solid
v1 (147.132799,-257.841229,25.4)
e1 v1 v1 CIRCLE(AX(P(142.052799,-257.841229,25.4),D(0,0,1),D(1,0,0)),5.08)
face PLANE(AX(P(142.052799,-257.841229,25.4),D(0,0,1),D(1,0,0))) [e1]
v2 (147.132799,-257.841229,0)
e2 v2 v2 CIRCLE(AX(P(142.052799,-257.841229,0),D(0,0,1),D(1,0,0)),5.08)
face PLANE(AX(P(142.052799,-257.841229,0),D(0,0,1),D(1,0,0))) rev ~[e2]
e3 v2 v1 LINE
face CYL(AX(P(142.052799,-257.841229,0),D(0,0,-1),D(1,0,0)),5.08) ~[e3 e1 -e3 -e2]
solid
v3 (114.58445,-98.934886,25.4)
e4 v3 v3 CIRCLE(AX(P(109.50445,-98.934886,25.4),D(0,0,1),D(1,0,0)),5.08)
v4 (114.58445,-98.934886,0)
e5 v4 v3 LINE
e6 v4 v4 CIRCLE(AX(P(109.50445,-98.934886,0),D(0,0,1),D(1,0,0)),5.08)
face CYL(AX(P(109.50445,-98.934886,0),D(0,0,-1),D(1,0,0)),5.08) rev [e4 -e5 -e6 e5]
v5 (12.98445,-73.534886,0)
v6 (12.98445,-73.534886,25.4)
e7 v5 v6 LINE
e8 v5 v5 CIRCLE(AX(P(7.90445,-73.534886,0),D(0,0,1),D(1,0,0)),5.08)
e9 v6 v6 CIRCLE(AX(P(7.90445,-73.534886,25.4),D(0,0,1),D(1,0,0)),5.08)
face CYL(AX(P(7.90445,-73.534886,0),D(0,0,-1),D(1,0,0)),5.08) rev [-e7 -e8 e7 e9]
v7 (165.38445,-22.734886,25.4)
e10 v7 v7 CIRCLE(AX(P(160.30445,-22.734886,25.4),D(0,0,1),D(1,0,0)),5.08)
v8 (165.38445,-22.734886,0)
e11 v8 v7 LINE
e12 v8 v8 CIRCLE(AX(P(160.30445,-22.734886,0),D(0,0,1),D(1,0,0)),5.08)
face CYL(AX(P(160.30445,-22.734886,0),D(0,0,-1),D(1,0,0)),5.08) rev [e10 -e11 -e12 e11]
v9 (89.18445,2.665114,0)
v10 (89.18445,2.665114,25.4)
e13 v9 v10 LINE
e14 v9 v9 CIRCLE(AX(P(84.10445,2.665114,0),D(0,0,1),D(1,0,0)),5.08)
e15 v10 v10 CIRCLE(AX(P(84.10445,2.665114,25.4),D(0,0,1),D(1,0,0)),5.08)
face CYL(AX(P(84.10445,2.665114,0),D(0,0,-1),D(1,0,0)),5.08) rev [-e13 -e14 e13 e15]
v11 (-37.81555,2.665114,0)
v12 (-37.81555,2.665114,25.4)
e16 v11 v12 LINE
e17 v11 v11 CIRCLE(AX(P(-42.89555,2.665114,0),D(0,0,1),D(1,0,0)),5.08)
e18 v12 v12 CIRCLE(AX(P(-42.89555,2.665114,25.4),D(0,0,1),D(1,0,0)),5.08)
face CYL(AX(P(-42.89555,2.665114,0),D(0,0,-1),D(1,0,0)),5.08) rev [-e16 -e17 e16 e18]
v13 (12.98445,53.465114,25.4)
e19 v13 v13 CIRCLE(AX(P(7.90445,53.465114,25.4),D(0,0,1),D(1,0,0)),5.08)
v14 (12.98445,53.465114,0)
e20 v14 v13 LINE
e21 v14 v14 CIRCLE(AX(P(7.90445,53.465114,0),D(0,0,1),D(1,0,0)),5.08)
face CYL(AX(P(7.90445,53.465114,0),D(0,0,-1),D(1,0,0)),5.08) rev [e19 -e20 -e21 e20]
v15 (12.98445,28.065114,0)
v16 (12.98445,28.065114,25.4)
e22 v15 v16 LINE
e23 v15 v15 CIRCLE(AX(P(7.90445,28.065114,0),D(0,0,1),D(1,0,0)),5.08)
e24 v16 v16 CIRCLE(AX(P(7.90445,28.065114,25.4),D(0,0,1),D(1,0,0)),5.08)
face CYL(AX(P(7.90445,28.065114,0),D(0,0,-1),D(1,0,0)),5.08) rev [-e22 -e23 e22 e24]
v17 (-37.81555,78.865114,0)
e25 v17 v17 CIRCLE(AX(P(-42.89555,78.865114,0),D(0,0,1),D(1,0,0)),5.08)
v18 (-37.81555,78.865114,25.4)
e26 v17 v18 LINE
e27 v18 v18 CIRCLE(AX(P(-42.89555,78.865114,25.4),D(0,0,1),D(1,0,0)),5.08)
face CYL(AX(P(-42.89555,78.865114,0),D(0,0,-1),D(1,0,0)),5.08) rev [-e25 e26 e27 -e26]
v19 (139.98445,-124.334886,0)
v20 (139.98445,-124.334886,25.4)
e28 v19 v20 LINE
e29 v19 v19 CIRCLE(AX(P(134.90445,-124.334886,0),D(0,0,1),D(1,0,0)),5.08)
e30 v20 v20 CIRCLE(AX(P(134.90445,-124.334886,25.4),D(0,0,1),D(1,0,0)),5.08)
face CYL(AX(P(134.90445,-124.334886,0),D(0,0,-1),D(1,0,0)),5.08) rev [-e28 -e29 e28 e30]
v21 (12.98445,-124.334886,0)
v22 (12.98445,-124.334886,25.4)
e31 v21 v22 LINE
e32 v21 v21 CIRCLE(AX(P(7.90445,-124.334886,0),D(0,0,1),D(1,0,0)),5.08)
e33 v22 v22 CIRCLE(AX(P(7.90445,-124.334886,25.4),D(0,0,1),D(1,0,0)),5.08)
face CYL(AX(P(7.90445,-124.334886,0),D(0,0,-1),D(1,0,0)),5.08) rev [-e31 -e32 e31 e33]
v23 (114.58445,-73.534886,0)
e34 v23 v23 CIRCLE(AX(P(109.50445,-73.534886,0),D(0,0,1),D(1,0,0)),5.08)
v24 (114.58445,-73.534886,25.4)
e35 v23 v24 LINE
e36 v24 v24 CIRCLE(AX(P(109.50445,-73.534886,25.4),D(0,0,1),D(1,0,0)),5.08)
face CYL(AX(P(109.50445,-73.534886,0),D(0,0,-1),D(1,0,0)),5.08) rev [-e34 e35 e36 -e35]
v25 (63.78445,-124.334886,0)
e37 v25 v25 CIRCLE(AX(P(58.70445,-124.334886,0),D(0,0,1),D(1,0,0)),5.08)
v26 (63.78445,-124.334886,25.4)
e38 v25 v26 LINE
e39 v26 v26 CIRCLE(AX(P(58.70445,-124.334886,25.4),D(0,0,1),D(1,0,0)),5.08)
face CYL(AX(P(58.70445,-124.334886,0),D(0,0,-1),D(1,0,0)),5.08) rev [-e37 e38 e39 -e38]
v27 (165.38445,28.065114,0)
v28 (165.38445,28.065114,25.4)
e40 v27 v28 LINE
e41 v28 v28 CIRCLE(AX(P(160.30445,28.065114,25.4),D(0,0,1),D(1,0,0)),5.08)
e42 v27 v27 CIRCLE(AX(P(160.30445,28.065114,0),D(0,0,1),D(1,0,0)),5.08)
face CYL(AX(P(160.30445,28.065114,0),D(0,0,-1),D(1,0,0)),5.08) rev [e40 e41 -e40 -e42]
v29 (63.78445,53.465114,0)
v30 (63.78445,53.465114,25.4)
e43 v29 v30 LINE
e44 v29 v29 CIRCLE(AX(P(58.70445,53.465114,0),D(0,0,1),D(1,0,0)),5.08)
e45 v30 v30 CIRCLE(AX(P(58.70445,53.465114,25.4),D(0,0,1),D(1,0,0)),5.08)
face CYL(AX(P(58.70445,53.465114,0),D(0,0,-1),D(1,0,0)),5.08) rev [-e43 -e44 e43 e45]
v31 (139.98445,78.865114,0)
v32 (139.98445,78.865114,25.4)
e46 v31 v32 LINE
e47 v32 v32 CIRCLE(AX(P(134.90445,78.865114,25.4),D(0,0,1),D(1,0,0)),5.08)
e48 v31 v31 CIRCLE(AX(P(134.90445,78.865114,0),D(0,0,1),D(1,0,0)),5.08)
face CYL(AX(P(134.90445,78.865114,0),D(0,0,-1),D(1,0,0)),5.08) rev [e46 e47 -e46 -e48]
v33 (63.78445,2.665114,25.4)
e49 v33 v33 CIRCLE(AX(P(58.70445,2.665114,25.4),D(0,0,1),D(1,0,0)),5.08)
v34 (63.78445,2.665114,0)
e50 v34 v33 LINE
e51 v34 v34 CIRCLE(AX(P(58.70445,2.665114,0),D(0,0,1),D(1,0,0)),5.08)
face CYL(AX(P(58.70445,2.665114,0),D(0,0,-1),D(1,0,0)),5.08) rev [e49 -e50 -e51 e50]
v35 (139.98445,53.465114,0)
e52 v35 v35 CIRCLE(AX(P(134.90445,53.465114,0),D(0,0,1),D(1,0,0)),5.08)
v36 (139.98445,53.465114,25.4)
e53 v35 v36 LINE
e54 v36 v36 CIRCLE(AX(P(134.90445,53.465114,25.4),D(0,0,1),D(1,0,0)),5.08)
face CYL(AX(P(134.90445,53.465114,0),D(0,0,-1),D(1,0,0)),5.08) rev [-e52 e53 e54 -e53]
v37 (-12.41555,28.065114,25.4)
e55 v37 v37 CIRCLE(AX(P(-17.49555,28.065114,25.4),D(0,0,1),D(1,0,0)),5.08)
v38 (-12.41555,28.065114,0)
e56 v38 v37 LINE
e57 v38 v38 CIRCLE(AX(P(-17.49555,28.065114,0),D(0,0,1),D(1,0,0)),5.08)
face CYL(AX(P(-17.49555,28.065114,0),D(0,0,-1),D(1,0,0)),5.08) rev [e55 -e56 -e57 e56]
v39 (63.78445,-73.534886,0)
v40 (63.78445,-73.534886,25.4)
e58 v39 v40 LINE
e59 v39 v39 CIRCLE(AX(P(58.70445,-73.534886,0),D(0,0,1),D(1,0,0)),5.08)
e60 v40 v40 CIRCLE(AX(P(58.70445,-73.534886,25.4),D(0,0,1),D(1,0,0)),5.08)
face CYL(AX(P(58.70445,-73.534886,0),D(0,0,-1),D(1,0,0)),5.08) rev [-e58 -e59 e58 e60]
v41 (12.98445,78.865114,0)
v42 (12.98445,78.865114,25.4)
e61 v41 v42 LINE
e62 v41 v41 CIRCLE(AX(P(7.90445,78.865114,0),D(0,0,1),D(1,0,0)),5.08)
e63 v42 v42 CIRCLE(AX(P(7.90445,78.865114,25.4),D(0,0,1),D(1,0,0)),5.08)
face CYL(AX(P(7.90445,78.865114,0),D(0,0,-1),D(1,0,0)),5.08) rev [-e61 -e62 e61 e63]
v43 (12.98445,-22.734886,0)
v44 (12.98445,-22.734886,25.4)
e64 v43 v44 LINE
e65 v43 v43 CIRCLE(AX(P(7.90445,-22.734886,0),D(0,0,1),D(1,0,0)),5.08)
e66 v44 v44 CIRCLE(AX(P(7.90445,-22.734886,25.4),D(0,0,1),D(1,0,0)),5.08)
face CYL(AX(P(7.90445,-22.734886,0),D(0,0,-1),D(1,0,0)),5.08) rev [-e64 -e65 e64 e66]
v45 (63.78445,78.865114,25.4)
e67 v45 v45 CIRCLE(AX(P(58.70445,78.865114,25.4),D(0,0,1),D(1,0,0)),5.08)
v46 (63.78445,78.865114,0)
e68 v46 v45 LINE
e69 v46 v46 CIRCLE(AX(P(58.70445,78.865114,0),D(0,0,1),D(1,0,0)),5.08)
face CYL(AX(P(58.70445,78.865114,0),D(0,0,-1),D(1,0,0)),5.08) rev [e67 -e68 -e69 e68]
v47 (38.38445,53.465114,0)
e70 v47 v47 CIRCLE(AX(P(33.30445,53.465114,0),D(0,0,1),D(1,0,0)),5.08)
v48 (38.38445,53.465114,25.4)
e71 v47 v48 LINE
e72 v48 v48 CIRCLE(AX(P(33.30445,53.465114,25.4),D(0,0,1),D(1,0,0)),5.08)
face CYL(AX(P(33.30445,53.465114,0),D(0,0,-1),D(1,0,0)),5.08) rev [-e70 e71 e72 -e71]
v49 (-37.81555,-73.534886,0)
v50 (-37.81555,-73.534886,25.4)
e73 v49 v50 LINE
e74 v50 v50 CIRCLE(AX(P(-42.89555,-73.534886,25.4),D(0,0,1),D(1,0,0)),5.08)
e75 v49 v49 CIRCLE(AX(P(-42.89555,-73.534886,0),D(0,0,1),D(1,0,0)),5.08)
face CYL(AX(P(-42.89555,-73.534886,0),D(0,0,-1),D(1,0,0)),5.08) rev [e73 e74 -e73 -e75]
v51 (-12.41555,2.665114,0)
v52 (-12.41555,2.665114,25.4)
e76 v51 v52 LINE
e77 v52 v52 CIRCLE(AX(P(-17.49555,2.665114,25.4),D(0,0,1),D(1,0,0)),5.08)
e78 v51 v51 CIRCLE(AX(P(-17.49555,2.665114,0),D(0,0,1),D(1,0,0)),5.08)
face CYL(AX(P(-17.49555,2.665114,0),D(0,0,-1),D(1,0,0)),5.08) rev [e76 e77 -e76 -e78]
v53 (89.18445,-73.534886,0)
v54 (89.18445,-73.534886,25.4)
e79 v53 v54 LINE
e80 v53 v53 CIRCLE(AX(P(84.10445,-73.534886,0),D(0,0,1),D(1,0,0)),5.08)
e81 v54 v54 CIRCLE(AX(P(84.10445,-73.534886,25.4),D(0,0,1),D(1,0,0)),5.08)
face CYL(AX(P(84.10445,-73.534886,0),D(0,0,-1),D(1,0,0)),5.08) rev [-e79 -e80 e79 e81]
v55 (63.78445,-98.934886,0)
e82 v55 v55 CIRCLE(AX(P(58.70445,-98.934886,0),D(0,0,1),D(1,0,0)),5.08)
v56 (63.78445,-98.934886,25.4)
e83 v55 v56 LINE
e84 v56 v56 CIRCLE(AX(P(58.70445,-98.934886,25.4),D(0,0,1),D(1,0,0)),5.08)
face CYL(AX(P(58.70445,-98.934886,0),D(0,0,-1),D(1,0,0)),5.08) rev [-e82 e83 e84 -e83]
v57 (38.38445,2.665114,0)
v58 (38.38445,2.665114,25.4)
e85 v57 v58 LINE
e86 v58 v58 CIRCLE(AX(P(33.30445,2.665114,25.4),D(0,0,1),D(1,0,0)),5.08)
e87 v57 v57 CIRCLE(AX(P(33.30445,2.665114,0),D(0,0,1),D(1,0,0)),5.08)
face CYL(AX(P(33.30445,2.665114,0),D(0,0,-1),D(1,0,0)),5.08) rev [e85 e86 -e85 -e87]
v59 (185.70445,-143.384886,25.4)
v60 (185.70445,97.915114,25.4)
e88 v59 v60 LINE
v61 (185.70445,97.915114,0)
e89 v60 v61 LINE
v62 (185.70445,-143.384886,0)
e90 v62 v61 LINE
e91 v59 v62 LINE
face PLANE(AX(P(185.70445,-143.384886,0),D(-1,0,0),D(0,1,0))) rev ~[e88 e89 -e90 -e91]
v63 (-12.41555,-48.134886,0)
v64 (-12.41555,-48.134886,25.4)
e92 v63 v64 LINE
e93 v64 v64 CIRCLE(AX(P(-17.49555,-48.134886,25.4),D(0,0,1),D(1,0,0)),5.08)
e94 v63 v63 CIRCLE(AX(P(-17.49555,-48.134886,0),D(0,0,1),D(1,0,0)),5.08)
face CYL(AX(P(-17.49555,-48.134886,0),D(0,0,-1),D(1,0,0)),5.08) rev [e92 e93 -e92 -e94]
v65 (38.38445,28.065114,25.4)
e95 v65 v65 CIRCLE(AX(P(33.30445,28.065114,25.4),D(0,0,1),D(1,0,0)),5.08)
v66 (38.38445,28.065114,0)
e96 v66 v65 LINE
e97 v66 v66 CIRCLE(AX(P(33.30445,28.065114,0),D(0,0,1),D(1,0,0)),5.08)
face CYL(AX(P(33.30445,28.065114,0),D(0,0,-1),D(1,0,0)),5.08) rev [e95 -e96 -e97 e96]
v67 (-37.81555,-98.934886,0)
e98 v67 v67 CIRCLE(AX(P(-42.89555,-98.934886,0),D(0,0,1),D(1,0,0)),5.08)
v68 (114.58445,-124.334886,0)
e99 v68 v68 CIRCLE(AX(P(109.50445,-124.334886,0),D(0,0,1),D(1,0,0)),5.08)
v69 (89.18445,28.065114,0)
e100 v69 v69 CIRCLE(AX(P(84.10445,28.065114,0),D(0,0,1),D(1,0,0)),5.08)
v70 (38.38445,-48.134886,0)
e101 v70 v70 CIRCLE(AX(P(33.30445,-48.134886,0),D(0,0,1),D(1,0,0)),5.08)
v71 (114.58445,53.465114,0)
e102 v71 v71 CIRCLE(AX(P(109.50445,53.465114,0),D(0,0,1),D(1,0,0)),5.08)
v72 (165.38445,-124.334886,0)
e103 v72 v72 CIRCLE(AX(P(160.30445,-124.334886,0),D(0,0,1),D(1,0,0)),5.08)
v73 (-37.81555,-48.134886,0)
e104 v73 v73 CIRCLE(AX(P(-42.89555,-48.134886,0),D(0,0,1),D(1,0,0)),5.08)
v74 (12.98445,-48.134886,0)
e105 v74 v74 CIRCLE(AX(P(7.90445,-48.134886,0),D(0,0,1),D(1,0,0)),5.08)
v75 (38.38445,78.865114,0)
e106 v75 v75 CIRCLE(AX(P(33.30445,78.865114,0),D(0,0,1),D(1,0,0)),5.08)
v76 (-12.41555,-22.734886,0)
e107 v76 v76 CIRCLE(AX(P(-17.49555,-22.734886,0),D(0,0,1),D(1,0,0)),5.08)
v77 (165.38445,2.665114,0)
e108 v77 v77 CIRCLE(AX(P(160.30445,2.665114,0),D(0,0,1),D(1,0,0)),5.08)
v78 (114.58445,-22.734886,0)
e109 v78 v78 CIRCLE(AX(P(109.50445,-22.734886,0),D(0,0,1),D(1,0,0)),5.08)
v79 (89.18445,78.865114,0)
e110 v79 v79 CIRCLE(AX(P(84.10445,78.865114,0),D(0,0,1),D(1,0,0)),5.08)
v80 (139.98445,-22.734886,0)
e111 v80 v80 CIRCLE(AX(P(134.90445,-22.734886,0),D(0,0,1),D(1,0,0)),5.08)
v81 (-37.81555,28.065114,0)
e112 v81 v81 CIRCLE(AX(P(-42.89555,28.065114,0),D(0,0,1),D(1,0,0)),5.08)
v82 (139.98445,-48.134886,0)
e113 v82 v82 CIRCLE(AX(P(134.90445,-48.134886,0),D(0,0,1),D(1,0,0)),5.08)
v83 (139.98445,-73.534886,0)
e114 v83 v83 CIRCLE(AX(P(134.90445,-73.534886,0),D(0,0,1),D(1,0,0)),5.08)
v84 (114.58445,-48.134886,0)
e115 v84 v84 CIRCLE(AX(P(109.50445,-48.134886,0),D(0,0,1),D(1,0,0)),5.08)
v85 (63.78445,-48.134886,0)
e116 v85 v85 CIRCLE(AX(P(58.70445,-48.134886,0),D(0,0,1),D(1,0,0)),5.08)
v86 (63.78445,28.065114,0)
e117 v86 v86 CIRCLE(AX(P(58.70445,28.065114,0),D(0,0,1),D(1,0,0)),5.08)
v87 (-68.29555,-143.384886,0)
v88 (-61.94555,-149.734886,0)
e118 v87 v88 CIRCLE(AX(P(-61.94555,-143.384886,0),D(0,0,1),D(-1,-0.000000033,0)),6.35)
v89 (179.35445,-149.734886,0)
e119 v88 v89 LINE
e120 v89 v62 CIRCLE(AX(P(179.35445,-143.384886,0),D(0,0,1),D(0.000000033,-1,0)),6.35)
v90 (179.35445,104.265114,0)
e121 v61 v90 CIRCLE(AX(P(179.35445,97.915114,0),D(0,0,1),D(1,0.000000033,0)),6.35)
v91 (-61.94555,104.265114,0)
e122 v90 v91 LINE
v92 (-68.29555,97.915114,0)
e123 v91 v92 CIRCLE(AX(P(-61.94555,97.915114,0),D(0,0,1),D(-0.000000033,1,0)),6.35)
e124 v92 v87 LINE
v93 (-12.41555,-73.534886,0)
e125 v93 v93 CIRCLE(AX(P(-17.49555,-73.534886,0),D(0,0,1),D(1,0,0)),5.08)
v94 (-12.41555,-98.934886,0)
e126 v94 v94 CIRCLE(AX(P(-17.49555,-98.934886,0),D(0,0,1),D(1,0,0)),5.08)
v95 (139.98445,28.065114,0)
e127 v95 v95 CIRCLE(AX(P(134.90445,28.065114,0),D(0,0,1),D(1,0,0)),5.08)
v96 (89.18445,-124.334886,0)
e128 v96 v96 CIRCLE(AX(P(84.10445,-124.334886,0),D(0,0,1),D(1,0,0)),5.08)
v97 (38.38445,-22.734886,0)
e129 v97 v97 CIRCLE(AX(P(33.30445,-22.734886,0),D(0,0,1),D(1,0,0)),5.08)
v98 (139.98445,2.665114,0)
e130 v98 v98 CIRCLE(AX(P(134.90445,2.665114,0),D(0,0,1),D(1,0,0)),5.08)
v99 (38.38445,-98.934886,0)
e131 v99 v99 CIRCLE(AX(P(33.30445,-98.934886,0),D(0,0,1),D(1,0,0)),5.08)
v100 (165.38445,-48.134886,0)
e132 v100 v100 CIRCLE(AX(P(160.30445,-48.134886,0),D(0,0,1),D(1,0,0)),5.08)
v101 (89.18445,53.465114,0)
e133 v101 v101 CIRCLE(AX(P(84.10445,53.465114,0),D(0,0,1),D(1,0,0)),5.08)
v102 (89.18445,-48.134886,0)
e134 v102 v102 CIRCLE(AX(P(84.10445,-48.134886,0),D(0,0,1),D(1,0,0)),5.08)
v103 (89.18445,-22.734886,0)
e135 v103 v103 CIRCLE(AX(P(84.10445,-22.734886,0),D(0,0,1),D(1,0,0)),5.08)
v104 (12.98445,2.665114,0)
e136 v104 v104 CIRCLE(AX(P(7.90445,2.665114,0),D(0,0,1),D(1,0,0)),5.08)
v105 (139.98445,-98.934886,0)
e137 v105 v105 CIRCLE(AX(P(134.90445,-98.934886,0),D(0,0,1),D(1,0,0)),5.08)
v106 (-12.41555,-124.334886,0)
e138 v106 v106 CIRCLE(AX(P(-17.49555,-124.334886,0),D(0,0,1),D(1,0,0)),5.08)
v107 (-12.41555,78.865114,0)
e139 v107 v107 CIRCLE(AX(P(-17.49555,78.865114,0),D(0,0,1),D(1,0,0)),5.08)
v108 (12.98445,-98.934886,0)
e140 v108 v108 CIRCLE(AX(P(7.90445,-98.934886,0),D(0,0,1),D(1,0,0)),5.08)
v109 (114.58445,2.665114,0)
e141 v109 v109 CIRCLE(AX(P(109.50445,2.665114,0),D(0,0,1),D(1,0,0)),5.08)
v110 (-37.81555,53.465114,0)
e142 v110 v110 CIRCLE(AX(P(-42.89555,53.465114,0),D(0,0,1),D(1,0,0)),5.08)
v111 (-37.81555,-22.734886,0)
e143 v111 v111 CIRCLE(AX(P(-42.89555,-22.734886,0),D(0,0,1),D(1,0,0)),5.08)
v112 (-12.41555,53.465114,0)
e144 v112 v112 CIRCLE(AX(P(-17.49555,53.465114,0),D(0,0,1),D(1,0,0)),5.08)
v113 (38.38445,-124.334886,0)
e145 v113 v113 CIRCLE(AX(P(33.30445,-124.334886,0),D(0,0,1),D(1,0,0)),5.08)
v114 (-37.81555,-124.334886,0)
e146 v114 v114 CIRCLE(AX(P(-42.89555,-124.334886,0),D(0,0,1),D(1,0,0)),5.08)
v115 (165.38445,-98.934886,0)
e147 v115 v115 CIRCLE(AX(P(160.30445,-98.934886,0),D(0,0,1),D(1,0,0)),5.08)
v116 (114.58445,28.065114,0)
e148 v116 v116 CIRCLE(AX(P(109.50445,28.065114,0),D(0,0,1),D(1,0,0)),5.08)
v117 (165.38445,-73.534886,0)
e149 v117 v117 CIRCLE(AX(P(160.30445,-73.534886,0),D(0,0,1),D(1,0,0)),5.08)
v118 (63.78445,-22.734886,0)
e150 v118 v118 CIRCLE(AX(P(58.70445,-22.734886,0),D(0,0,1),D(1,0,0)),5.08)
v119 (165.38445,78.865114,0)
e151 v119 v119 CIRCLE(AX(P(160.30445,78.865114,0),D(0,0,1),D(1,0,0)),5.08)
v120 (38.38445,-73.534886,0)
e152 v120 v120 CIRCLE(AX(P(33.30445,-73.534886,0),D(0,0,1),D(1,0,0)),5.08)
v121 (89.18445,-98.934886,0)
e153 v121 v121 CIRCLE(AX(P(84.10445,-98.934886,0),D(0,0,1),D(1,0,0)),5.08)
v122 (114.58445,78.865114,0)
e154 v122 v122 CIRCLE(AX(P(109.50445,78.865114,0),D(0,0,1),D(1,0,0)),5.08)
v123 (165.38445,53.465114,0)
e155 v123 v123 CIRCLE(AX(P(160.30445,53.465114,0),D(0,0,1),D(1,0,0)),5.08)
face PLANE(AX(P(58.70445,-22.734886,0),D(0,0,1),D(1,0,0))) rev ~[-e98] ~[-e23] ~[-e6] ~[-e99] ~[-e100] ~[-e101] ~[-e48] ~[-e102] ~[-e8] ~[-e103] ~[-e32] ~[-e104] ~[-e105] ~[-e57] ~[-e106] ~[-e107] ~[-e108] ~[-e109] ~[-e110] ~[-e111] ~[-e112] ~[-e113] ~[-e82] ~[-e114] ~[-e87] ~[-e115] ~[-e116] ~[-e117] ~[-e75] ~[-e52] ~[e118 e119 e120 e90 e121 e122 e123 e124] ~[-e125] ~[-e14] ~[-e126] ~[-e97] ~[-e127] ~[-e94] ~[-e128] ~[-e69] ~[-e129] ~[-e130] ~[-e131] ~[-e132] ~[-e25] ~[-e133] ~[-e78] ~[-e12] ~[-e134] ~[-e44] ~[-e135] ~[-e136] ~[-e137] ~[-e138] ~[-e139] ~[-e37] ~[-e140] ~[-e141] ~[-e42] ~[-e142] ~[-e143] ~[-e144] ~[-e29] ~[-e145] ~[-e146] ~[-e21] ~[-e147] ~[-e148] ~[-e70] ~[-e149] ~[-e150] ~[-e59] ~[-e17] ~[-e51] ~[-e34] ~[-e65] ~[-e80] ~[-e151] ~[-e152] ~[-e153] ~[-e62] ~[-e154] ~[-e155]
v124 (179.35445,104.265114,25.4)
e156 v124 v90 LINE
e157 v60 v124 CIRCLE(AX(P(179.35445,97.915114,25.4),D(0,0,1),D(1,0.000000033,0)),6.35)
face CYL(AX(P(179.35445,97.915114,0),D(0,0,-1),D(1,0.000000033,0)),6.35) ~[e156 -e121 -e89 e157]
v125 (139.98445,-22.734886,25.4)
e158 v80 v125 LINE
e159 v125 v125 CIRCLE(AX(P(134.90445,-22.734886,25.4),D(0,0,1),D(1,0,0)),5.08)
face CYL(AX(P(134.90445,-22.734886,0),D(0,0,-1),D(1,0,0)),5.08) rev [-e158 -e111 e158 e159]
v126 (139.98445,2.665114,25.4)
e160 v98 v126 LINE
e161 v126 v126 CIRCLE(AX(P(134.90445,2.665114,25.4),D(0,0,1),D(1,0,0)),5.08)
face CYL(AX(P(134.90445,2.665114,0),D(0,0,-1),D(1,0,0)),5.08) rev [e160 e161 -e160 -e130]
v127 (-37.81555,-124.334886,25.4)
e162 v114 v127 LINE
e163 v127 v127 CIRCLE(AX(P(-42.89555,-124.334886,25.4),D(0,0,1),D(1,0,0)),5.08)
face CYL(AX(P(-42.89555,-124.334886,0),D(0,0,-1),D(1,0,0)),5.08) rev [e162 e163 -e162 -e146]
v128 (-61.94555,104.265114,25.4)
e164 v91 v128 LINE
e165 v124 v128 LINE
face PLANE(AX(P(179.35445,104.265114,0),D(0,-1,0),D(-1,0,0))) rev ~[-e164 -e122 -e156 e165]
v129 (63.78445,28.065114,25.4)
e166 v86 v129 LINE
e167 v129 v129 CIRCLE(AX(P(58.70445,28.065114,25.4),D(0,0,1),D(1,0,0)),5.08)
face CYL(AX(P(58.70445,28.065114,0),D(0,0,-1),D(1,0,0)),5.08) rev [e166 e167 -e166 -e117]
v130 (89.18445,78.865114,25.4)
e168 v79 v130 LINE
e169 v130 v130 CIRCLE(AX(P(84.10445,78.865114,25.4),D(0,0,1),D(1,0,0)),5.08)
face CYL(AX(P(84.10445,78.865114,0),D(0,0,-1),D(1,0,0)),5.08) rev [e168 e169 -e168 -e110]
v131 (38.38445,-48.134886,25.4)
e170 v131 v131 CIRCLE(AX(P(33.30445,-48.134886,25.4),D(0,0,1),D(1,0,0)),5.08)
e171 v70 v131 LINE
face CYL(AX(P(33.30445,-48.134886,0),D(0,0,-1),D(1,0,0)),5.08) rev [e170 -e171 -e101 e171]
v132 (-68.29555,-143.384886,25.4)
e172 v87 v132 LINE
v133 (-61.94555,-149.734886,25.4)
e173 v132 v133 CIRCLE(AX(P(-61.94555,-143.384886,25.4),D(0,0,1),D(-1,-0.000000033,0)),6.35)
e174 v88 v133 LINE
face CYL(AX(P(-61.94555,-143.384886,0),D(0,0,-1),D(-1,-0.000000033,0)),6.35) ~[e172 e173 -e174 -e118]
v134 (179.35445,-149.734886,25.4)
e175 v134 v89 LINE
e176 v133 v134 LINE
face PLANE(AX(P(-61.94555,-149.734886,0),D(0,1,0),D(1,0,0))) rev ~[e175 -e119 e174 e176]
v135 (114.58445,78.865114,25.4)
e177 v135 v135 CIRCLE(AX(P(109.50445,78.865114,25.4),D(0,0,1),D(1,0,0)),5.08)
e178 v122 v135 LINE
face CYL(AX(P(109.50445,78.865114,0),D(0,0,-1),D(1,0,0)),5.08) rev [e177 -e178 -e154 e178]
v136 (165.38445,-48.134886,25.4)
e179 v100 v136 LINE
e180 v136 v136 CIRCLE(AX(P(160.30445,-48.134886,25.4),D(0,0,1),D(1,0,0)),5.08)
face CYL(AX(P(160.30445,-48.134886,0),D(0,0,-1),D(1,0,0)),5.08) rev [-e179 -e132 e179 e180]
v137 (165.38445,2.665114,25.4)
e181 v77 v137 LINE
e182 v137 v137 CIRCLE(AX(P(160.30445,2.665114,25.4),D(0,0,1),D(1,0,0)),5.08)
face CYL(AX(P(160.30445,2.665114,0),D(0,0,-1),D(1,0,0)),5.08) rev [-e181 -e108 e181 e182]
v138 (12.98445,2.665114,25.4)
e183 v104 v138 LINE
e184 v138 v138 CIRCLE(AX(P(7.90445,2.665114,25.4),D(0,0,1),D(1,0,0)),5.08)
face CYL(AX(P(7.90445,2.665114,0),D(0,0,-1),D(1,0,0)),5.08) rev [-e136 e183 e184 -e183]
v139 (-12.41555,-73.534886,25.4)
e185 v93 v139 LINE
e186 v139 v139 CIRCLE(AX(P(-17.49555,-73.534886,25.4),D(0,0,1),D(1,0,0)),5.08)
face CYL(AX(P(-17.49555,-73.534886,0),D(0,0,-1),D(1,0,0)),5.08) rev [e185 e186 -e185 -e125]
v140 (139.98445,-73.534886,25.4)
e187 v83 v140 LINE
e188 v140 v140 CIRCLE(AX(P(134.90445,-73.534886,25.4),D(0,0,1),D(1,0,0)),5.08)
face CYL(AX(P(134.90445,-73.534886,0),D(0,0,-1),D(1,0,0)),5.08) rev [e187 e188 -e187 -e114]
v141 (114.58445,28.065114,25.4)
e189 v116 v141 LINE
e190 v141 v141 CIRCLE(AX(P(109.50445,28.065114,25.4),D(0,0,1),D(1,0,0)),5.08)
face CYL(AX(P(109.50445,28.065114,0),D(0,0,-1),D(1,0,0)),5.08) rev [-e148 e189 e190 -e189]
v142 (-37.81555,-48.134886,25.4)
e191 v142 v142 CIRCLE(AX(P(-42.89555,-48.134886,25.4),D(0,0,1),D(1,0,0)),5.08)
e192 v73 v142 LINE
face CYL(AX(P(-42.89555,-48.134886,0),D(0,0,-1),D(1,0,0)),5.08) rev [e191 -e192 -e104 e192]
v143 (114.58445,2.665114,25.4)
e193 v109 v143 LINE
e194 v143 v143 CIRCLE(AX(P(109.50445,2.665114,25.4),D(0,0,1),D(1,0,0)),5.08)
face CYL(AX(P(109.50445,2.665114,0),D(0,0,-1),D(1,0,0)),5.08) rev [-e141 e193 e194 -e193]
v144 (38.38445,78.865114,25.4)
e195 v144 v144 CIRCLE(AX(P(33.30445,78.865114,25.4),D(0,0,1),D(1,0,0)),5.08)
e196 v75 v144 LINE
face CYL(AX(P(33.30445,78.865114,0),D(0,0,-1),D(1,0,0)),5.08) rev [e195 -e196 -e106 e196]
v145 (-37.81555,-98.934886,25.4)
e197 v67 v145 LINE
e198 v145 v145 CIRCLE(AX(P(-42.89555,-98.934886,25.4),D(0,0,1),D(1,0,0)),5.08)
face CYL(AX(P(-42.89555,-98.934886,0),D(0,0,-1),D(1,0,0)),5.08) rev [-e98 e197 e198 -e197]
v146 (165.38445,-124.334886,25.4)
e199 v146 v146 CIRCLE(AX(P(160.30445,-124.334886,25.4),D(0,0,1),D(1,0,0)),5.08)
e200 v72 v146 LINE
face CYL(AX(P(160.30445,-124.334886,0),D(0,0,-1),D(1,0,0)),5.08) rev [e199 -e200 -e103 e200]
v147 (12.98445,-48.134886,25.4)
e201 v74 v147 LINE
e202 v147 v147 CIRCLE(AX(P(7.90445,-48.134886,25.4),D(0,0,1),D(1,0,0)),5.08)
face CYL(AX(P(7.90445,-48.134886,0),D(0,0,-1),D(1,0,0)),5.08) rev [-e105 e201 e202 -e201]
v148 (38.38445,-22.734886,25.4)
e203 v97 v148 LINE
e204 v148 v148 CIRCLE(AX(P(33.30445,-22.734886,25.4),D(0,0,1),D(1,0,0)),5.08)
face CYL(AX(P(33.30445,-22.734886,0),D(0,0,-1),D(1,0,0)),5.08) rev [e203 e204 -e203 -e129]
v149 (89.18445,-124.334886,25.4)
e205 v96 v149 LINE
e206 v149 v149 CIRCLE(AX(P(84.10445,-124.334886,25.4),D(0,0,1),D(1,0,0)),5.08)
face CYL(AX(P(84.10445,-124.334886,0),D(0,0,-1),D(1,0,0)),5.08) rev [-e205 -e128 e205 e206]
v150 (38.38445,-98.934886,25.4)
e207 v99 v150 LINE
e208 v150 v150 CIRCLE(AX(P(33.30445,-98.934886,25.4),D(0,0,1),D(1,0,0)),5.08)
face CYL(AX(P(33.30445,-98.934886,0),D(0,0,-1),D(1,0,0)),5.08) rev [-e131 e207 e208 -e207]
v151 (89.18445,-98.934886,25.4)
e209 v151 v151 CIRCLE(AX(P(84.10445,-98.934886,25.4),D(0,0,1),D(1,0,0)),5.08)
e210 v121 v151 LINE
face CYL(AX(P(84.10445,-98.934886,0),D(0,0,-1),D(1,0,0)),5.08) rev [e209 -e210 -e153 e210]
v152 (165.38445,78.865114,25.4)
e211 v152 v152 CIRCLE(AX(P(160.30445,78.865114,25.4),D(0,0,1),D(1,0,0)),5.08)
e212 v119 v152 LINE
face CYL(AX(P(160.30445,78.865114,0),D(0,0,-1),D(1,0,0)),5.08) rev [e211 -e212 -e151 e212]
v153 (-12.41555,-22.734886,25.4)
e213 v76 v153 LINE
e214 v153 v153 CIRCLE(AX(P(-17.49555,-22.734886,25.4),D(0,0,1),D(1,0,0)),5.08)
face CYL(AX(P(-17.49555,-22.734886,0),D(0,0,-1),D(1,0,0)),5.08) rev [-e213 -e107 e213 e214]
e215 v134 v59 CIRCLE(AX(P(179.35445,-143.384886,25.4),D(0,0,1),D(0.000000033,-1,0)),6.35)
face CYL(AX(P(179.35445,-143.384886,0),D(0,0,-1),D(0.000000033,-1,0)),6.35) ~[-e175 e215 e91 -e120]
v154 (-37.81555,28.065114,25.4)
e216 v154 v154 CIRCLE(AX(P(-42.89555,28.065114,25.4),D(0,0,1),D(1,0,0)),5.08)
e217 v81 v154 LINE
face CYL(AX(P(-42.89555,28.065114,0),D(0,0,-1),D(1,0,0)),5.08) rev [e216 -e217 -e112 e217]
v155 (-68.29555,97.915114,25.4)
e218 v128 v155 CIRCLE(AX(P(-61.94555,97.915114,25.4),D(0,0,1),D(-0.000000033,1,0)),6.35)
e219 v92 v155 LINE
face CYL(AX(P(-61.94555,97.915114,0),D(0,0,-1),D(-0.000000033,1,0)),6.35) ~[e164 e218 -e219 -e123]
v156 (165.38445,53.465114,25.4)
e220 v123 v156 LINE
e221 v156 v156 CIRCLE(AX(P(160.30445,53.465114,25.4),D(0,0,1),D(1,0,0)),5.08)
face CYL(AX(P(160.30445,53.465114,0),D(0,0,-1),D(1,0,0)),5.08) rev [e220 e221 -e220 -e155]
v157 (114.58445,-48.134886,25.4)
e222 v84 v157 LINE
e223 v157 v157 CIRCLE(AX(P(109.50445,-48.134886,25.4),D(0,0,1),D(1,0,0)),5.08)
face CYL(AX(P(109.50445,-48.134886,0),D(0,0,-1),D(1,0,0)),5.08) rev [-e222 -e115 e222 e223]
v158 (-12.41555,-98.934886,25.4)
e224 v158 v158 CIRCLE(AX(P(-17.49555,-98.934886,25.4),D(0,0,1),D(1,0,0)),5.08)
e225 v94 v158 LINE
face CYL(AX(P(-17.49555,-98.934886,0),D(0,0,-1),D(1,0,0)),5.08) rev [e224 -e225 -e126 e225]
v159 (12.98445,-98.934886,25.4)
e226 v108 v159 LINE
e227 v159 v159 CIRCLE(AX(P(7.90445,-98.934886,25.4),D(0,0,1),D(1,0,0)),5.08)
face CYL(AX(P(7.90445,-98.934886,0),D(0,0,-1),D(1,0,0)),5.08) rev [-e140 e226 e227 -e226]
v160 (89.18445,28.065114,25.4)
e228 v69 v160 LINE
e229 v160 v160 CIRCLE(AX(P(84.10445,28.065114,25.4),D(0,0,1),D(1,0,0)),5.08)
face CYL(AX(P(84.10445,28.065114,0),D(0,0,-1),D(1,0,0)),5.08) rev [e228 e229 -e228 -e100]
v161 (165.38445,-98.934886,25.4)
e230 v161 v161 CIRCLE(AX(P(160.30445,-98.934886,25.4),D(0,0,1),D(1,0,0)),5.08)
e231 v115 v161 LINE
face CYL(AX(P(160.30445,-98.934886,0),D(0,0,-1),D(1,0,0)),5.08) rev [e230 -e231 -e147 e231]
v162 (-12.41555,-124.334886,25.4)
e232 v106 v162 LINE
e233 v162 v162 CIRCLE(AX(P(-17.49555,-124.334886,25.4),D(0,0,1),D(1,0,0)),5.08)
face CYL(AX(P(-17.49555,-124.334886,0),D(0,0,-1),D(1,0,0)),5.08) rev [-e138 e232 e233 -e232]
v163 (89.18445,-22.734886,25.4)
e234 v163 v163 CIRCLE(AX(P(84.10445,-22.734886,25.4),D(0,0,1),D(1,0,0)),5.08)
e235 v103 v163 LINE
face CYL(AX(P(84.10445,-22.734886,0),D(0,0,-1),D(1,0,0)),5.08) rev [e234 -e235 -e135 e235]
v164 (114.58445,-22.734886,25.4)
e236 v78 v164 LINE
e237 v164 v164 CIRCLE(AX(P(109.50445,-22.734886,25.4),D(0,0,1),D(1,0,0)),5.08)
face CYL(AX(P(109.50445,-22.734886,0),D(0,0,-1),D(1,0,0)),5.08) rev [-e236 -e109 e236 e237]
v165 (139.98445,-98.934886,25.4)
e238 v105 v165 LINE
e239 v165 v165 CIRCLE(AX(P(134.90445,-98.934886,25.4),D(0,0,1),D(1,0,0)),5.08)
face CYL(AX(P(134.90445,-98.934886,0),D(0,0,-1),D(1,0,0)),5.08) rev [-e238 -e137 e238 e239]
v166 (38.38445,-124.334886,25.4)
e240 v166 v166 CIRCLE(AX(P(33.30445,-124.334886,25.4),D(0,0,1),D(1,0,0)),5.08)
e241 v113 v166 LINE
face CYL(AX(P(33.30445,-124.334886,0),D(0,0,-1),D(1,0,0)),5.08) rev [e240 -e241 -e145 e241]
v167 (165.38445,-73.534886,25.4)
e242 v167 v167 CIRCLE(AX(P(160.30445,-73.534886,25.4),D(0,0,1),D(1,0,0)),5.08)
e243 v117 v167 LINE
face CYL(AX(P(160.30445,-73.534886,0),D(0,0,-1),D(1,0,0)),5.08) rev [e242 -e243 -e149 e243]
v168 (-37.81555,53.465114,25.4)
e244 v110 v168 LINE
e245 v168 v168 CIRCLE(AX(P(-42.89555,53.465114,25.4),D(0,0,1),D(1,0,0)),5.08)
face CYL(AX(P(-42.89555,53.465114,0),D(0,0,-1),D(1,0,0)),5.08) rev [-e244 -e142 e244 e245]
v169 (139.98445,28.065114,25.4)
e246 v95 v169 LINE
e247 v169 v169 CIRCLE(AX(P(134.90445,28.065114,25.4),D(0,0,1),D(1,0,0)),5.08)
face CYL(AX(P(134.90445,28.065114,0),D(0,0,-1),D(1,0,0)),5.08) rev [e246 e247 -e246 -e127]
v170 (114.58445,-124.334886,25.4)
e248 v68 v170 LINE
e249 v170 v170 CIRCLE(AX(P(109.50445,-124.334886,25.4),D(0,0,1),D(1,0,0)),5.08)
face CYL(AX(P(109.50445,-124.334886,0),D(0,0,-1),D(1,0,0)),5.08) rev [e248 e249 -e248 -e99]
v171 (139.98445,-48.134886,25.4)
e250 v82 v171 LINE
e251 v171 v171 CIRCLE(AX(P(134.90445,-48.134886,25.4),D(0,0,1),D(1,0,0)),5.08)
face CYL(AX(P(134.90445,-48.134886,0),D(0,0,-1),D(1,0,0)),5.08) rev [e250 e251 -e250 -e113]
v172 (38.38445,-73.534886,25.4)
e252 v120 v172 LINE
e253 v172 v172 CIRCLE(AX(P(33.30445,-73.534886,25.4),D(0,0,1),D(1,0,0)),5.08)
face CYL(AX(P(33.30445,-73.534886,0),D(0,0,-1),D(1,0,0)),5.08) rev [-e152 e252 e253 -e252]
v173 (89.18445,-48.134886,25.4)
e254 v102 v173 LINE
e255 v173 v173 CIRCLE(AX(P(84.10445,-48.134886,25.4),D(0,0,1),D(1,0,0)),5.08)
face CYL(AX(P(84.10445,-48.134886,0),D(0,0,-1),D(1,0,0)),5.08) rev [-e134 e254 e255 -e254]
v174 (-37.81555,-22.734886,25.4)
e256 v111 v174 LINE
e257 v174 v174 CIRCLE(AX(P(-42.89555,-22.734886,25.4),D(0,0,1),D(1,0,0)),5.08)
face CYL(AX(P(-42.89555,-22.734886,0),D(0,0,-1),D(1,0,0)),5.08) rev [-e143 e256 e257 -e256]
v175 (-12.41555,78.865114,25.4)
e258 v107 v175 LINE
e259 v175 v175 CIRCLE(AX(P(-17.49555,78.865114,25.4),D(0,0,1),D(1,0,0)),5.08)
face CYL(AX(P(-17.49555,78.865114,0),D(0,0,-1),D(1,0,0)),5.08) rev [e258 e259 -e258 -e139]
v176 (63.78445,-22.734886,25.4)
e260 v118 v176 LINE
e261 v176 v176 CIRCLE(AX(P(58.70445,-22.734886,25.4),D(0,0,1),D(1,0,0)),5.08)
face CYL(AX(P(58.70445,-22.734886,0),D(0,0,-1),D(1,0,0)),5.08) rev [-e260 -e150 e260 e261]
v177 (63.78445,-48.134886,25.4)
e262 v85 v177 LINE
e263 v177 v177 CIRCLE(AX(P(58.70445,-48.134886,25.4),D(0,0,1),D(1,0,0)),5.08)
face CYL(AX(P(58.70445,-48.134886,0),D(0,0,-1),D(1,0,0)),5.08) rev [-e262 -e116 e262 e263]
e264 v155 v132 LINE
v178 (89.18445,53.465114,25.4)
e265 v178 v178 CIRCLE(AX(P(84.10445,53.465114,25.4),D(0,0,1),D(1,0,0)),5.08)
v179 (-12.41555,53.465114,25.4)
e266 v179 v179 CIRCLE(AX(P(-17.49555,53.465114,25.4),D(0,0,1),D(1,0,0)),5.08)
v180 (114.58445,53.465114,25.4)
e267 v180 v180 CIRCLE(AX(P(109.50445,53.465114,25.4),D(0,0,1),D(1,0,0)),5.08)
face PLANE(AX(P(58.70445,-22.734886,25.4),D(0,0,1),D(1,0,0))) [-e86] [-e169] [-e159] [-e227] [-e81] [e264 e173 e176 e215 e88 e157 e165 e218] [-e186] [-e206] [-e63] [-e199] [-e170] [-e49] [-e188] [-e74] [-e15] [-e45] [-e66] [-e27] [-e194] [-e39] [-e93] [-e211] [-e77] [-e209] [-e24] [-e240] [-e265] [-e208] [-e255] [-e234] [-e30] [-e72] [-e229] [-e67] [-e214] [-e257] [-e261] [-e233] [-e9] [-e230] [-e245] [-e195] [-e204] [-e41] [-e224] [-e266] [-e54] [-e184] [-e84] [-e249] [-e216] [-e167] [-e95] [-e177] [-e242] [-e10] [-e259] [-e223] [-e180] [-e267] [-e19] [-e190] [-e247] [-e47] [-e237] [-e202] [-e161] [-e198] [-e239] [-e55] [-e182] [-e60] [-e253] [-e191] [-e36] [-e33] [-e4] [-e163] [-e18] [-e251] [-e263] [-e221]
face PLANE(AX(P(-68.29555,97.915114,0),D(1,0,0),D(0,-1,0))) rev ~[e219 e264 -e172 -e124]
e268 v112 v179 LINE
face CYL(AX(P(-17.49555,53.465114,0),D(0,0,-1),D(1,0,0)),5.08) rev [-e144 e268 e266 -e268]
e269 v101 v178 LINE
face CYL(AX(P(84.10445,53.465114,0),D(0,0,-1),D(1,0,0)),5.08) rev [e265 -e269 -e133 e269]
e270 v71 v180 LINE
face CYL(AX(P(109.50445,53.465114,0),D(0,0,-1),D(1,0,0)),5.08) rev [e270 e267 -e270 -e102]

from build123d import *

# Parameters (mm, degrees)
F0_R     = 5.08
F1_DEPTH = 2.54
F2_DEPTH = 25.4


with BuildPart() as f1:
    # F0 (on Top) → F1 (new body)
    with BuildSketch(Plane.XY):
        with BuildLine():
            Line((179.35445, 104.265114), (58.70445, 104.265114))
            Line((58.70445, 104.265114), (-61.94555, 104.265114))
            ThreePointArc((-61.94555, 104.265114), (-66.435678, 102.405242), (-68.29555, 97.915114))
            Line((-68.29555, 97.915114), (-68.29555, -22.734886))
            Line((-68.29555, -22.734886), (-68.29555, -143.384886))
            ThreePointArc((-68.29555, -143.384886), (-66.435678, -147.875014), (-61.94555, -149.734886))
            Line((-61.94555, -149.734886), (58.70445, -149.734886))
            Line((58.70445, -149.734886), (179.35445, -149.734886))
            ThreePointArc((179.35445, -149.734886), (183.844578, -147.875014), (185.70445, -143.384886))
            Line((185.70445, -143.384886), (185.70445, -22.734886))
            Line((185.70445, -22.734886), (185.70445, 97.915114))
            ThreePointArc((185.70445, 97.915114), (183.844578, 102.405242), (179.35445, 104.265114))
        make_face()
        with Locations((-42.89555, -124.334886)):
            Circle(F0_R, mode=Mode.SUBTRACT)
        with Locations((-42.89555, -98.934886)):
            Circle(F0_R, mode=Mode.SUBTRACT)
        with Locations((-17.49555, -124.334886)):
            Circle(F0_R, mode=Mode.SUBTRACT)
        with Locations((-17.49555, -98.934886)):
            Circle(F0_R, mode=Mode.SUBTRACT)
        with Locations((7.90445, -124.334886)):
            Circle(F0_R, mode=Mode.SUBTRACT)
        with Locations((7.90445, -98.934886)):
            Circle(F0_R, mode=Mode.SUBTRACT)
        with Locations((33.30445, -124.334886)):
            Circle(F0_R, mode=Mode.SUBTRACT)
        with Locations((58.70445, -124.334886)):
            Circle(F0_R, mode=Mode.SUBTRACT)
        with Locations((33.30445, -98.934886)):
            Circle(F0_R, mode=Mode.SUBTRACT)
        with Locations((58.70445, -98.934886)):
            Circle(F0_R, mode=Mode.SUBTRACT)
        with Locations((84.10445, -124.334886)):
            Circle(F0_R, mode=Mode.SUBTRACT)
        with Locations((84.10445, -98.934886)):
            Circle(F0_R, mode=Mode.SUBTRACT)
        with Locations((109.50445, -124.334886)):
            Circle(F0_R, mode=Mode.SUBTRACT)
        with Locations((109.50445, -98.934886)):
            Circle(F0_R, mode=Mode.SUBTRACT)
        with Locations((134.90445, -124.334886)):
            Circle(F0_R, mode=Mode.SUBTRACT)
        with Locations((134.90445, -98.934886)):
            Circle(F0_R, mode=Mode.SUBTRACT)
        with Locations((160.30445, -124.334886)):
            Circle(F0_R, mode=Mode.SUBTRACT)
        with Locations((160.30445, -98.934886)):
            Circle(F0_R, mode=Mode.SUBTRACT)
        with Locations((-42.89555, -73.534886)):
            Circle(F0_R, mode=Mode.SUBTRACT)
        with Locations((-42.89555, -48.134886)):
            Circle(F0_R, mode=Mode.SUBTRACT)
        with Locations((-17.49555, -73.534886)):
            Circle(F0_R, mode=Mode.SUBTRACT)
        with Locations((-17.49555, -48.134886)):
            Circle(F0_R, mode=Mode.SUBTRACT)
        with Locations((-42.89555, -22.734886)):
            Circle(F0_R, mode=Mode.SUBTRACT)
        with Locations((-42.89555, 2.665114)):
            Circle(F0_R, mode=Mode.SUBTRACT)
        with Locations((-17.49555, -22.734886)):
            Circle(F0_R, mode=Mode.SUBTRACT)
        with Locations((-17.49555, 2.665114)):
            Circle(F0_R, mode=Mode.SUBTRACT)
        with Locations((7.90445, -73.534886)):
            Circle(F0_R, mode=Mode.SUBTRACT)
        with Locations((7.90445, -48.134886)):
            Circle(F0_R, mode=Mode.SUBTRACT)
        with Locations((33.30445, -73.534886)):
            Circle(F0_R, mode=Mode.SUBTRACT)
        with Locations((58.70445, -73.534886)):
            Circle(F0_R, mode=Mode.SUBTRACT)
        with Locations((33.30445, -48.134886)):
            Circle(F0_R, mode=Mode.SUBTRACT)
        with Locations((58.70445, -48.134886)):
            Circle(F0_R, mode=Mode.SUBTRACT)
        with Locations((7.90445, -22.734886)):
            Circle(F0_R, mode=Mode.SUBTRACT)
        with Locations((7.90445, 2.665114)):
            Circle(F0_R, mode=Mode.SUBTRACT)
        with Locations((33.30445, -22.734886)):
            Circle(F0_R, mode=Mode.SUBTRACT)
        with Locations((58.70445, -22.734886)):
            Circle(F0_R, mode=Mode.SUBTRACT)
        with Locations((33.30445, 2.665114)):
            Circle(F0_R, mode=Mode.SUBTRACT)
        with Locations((58.70445, 2.665114)):
            Circle(F0_R, mode=Mode.SUBTRACT)
        with Locations((-42.89555, 28.065114)):
            Circle(F0_R, mode=Mode.SUBTRACT)
        with Locations((-42.89555, 53.465114)):
            Circle(F0_R, mode=Mode.SUBTRACT)
        with Locations((-17.49555, 28.065114)):
            Circle(F0_R, mode=Mode.SUBTRACT)
        with Locations((-17.49555, 53.465114)):
            Circle(F0_R, mode=Mode.SUBTRACT)
        with Locations((-42.89555, 78.865114)):
            Circle(F0_R, mode=Mode.SUBTRACT)
        with Locations((-17.49555, 78.865114)):
            Circle(F0_R, mode=Mode.SUBTRACT)
        with Locations((7.90445, 28.065114)):
            Circle(F0_R, mode=Mode.SUBTRACT)
        with Locations((7.90445, 53.465114)):
            Circle(F0_R, mode=Mode.SUBTRACT)
        with Locations((33.30445, 28.065114)):
            Circle(F0_R, mode=Mode.SUBTRACT)
        with Locations((58.70445, 28.065114)):
            Circle(F0_R, mode=Mode.SUBTRACT)
        with Locations((33.30445, 53.465114)):
            Circle(F0_R, mode=Mode.SUBTRACT)
        with Locations((58.70445, 53.465114)):
            Circle(F0_R, mode=Mode.SUBTRACT)
        with Locations((7.90445, 78.865114)):
            Circle(F0_R, mode=Mode.SUBTRACT)
        with Locations((33.30445, 78.865114)):
            Circle(F0_R, mode=Mode.SUBTRACT)
        with Locations((58.70445, 78.865114)):
            Circle(F0_R, mode=Mode.SUBTRACT)
        with Locations((84.10445, -73.534886)):
            Circle(F0_R, mode=Mode.SUBTRACT)
        with Locations((84.10445, -48.134886)):
            Circle(F0_R, mode=Mode.SUBTRACT)
        with Locations((109.50445, -73.534886)):
            Circle(F0_R, mode=Mode.SUBTRACT)
        with Locations((109.50445, -48.134886)):
            Circle(F0_R, mode=Mode.SUBTRACT)
        with Locations((84.10445, -22.734886)):
            Circle(F0_R, mode=Mode.SUBTRACT)
        with Locations((84.10445, 2.665114)):
            Circle(F0_R, mode=Mode.SUBTRACT)
        with Locations((109.50445, -22.734886)):
            Circle(F0_R, mode=Mode.SUBTRACT)
        with Locations((109.50445, 2.665114)):
            Circle(F0_R, mode=Mode.SUBTRACT)
        with Locations((134.90445, -73.534886)):
            Circle(F0_R, mode=Mode.SUBTRACT)
        with Locations((134.90445, -48.134886)):
            Circle(F0_R, mode=Mode.SUBTRACT)
        with Locations((160.30445, -73.534886)):
            Circle(F0_R, mode=Mode.SUBTRACT)
        with Locations((160.30445, -48.134886)):
            Circle(F0_R, mode=Mode.SUBTRACT)
        with Locations((134.90445, -22.734886)):
            Circle(F0_R, mode=Mode.SUBTRACT)
        with Locations((134.90445, 2.665114)):
            Circle(F0_R, mode=Mode.SUBTRACT)
        with Locations((160.30445, -22.734886)):
            Circle(F0_R, mode=Mode.SUBTRACT)
        with Locations((160.30445, 2.665114)):
            Circle(F0_R, mode=Mode.SUBTRACT)
        with Locations((84.10445, 28.065114)):
            Circle(F0_R, mode=Mode.SUBTRACT)
        with Locations((84.10445, 53.465114)):
            Circle(F0_R, mode=Mode.SUBTRACT)
        with Locations((109.50445, 28.065114)):
            Circle(F0_R, mode=Mode.SUBTRACT)
        with Locations((109.50445, 53.465114)):
            Circle(F0_R, mode=Mode.SUBTRACT)
        with Locations((84.10445, 78.865114)):
            Circle(F0_R, mode=Mode.SUBTRACT)
        with Locations((109.50445, 78.865114)):
            Circle(F0_R, mode=Mode.SUBTRACT)
        with Locations((134.90445, 28.065114)):
            Circle(F0_R, mode=Mode.SUBTRACT)
        with Locations((134.90445, 53.465114)):
            Circle(F0_R, mode=Mode.SUBTRACT)
        with Locations((160.30445, 28.065114)):
            Circle(F0_R, mode=Mode.SUBTRACT)
        with Locations((160.30445, 53.465114)):
            Circle(F0_R, mode=Mode.SUBTRACT)
        with Locations((134.90445, 78.865114)):
            Circle(F0_R, mode=Mode.SUBTRACT)
        with Locations((160.30445, 78.865114)):
            Circle(F0_R, mode=Mode.SUBTRACT)
    extrude(amount=F1_DEPTH)

    # F0 (on Top) → F2 (join)
    with BuildSketch(Plane.XY):
        with BuildLine():
            Line((179.35445, 104.265114), (58.70445, 104.265114))
            Line((58.70445, 104.265114), (-61.94555, 104.265114))
            ThreePointArc((-61.94555, 104.265114), (-66.435678, 102.405242), (-68.29555, 97.915114))
            Line((-68.29555, 97.915114), (-68.29555, -22.734886))
            Line((-68.29555, -22.734886), (-68.29555, -143.384886))
            ThreePointArc((-68.29555, -143.384886), (-66.435678, -147.875014), (-61.94555, -149.734886))
            Line((-61.94555, -149.734886), (58.70445, -149.734886))
            Line((58.70445, -149.734886), (179.35445, -149.734886))
            ThreePointArc((179.35445, -149.734886), (183.844578, -147.875014), (185.70445, -143.384886))
            Line((185.70445, -143.384886), (185.70445, -22.734886))
            Line((185.70445, -22.734886), (185.70445, 97.915114))
            ThreePointArc((185.70445, 97.915114), (183.844578, 102.405242), (179.35445, 104.265114))
        make_face()
        with Locations((-42.89555, -124.334886)):
            Circle(F0_R, mode=Mode.SUBTRACT)
        with Locations((-42.89555, -98.934886)):
            Circle(F0_R, mode=Mode.SUBTRACT)
        with Locations((-17.49555, -124.334886)):
            Circle(F0_R, mode=Mode.SUBTRACT)
        with Locations((-17.49555, -98.934886)):
            Circle(F0_R, mode=Mode.SUBTRACT)
        with Locations((7.90445, -124.334886)):
            Circle(F0_R, mode=Mode.SUBTRACT)
        with Locations((7.90445, -98.934886)):
            Circle(F0_R, mode=Mode.SUBTRACT)
        with Locations((33.30445, -124.334886)):
            Circle(F0_R, mode=Mode.SUBTRACT)
        with Locations((58.70445, -124.334886)):
            Circle(F0_R, mode=Mode.SUBTRACT)
        with Locations((33.30445, -98.934886)):
            Circle(F0_R, mode=Mode.SUBTRACT)
        with Locations((58.70445, -98.934886)):
            Circle(F0_R, mode=Mode.SUBTRACT)
        with Locations((84.10445, -124.334886)):
            Circle(F0_R, mode=Mode.SUBTRACT)
        with Locations((84.10445, -98.934886)):
            Circle(F0_R, mode=Mode.SUBTRACT)
        with Locations((109.50445, -124.334886)):
            Circle(F0_R, mode=Mode.SUBTRACT)
        with Locations((109.50445, -98.934886)):
            Circle(F0_R, mode=Mode.SUBTRACT)
        with Locations((134.90445, -124.334886)):
            Circle(F0_R, mode=Mode.SUBTRACT)
        with Locations((134.90445, -98.934886)):
            Circle(F0_R, mode=Mode.SUBTRACT)
        with Locations((160.30445, -124.334886)):
            Circle(F0_R, mode=Mode.SUBTRACT)
        with Locations((160.30445, -98.934886)):
            Circle(F0_R, mode=Mode.SUBTRACT)
        with Locations((-42.89555, -73.534886)):
            Circle(F0_R, mode=Mode.SUBTRACT)
        with Locations((-42.89555, -48.134886)):
            Circle(F0_R, mode=Mode.SUBTRACT)
        with Locations((-17.49555, -73.534886)):
            Circle(F0_R, mode=Mode.SUBTRACT)
        with Locations((-17.49555, -48.134886)):
            Circle(F0_R, mode=Mode.SUBTRACT)
        with Locations((-42.89555, -22.734886)):
            Circle(F0_R, mode=Mode.SUBTRACT)
        with Locations((-42.89555, 2.665114)):
            Circle(F0_R, mode=Mode.SUBTRACT)
        with Locations((-17.49555, -22.734886)):
            Circle(F0_R, mode=Mode.SUBTRACT)
        with Locations((-17.49555, 2.665114)):
            Circle(F0_R, mode=Mode.SUBTRACT)
        with Locations((7.90445, -73.534886)):
            Circle(F0_R, mode=Mode.SUBTRACT)
        with Locations((7.90445, -48.134886)):
            Circle(F0_R, mode=Mode.SUBTRACT)
        with Locations((33.30445, -73.534886)):
            Circle(F0_R, mode=Mode.SUBTRACT)
        with Locations((58.70445, -73.534886)):
            Circle(F0_R, mode=Mode.SUBTRACT)
        with Locations((33.30445, -48.134886)):
            Circle(F0_R, mode=Mode.SUBTRACT)
        with Locations((58.70445, -48.134886)):
            Circle(F0_R, mode=Mode.SUBTRACT)
        with Locations((7.90445, -22.734886)):
            Circle(F0_R, mode=Mode.SUBTRACT)
        with Locations((7.90445, 2.665114)):
            Circle(F0_R, mode=Mode.SUBTRACT)
        with Locations((33.30445, -22.734886)):
            Circle(F0_R, mode=Mode.SUBTRACT)
        with Locations((58.70445, -22.734886)):
            Circle(F0_R, mode=Mode.SUBTRACT)
        with Locations((33.30445, 2.665114)):
            Circle(F0_R, mode=Mode.SUBTRACT)
        with Locations((58.70445, 2.665114)):
            Circle(F0_R, mode=Mode.SUBTRACT)
        with Locations((-42.89555, 28.065114)):
            Circle(F0_R, mode=Mode.SUBTRACT)
        with Locations((-42.89555, 53.465114)):
            Circle(F0_R, mode=Mode.SUBTRACT)
        with Locations((-17.49555, 28.065114)):
            Circle(F0_R, mode=Mode.SUBTRACT)
        with Locations((-17.49555, 53.465114)):
            Circle(F0_R, mode=Mode.SUBTRACT)
        with Locations((-42.89555, 78.865114)):
            Circle(F0_R, mode=Mode.SUBTRACT)
        with Locations((-17.49555, 78.865114)):
            Circle(F0_R, mode=Mode.SUBTRACT)
        with Locations((7.90445, 28.065114)):
            Circle(F0_R, mode=Mode.SUBTRACT)
        with Locations((7.90445, 53.465114)):
            Circle(F0_R, mode=Mode.SUBTRACT)
        with Locations((33.30445, 28.065114)):
            Circle(F0_R, mode=Mode.SUBTRACT)
        with Locations((58.70445, 28.065114)):
            Circle(F0_R, mode=Mode.SUBTRACT)
        with Locations((33.30445, 53.465114)):
            Circle(F0_R, mode=Mode.SUBTRACT)
        with Locations((58.70445, 53.465114)):
            Circle(F0_R, mode=Mode.SUBTRACT)
        with Locations((7.90445, 78.865114)):
            Circle(F0_R, mode=Mode.SUBTRACT)
        with Locations((33.30445, 78.865114)):
            Circle(F0_R, mode=Mode.SUBTRACT)
        with Locations((58.70445, 78.865114)):
            Circle(F0_R, mode=Mode.SUBTRACT)
        with Locations((84.10445, -73.534886)):
            Circle(F0_R, mode=Mode.SUBTRACT)
        with Locations((84.10445, -48.134886)):
            Circle(F0_R, mode=Mode.SUBTRACT)
        with Locations((109.50445, -73.534886)):
            Circle(F0_R, mode=Mode.SUBTRACT)
        with Locations((109.50445, -48.134886)):
            Circle(F0_R, mode=Mode.SUBTRACT)
        with Locations((84.10445, -22.734886)):
            Circle(F0_R, mode=Mode.SUBTRACT)
        with Locations((84.10445, 2.665114)):
            Circle(F0_R, mode=Mode.SUBTRACT)
        with Locations((109.50445, -22.734886)):
            Circle(F0_R, mode=Mode.SUBTRACT)
        with Locations((109.50445, 2.665114)):
            Circle(F0_R, mode=Mode.SUBTRACT)
        with Locations((134.90445, -73.534886)):
            Circle(F0_R, mode=Mode.SUBTRACT)
        with Locations((134.90445, -48.134886)):
            Circle(F0_R, mode=Mode.SUBTRACT)
        with Locations((160.30445, -73.534886)):
            Circle(F0_R, mode=Mode.SUBTRACT)
        with Locations((160.30445, -48.134886)):
            Circle(F0_R, mode=Mode.SUBTRACT)
        with Locations((134.90445, -22.734886)):
            Circle(F0_R, mode=Mode.SUBTRACT)
        with Locations((134.90445, 2.665114)):
            Circle(F0_R, mode=Mode.SUBTRACT)
        with Locations((160.30445, -22.734886)):
            Circle(F0_R, mode=Mode.SUBTRACT)
        with Locations((160.30445, 2.665114)):
            Circle(F0_R, mode=Mode.SUBTRACT)
        with Locations((84.10445, 28.065114)):
            Circle(F0_R, mode=Mode.SUBTRACT)
        with Locations((84.10445, 53.465114)):
            Circle(F0_R, mode=Mode.SUBTRACT)
        with Locations((109.50445, 28.065114)):
            Circle(F0_R, mode=Mode.SUBTRACT)
        with Locations((109.50445, 53.465114)):
            Circle(F0_R, mode=Mode.SUBTRACT)
        with Locations((84.10445, 78.865114)):
            Circle(F0_R, mode=Mode.SUBTRACT)
        with Locations((109.50445, 78.865114)):
            Circle(F0_R, mode=Mode.SUBTRACT)
        with Locations((134.90445, 28.065114)):
            Circle(F0_R, mode=Mode.SUBTRACT)
        with Locations((134.90445, 53.465114)):
            Circle(F0_R, mode=Mode.SUBTRACT)
        with Locations((160.30445, 28.065114)):
            Circle(F0_R, mode=Mode.SUBTRACT)
        with Locations((160.30445, 53.465114)):
            Circle(F0_R, mode=Mode.SUBTRACT)
        with Locations((134.90445, 78.865114)):
            Circle(F0_R, mode=Mode.SUBTRACT)
        with Locations((160.30445, 78.865114)):
            Circle(F0_R, mode=Mode.SUBTRACT)
        with Locations((142.052799, -257.841229)):
            Circle(F0_R)
    extrude(amount=F2_DEPTH)


solid = f1.part
